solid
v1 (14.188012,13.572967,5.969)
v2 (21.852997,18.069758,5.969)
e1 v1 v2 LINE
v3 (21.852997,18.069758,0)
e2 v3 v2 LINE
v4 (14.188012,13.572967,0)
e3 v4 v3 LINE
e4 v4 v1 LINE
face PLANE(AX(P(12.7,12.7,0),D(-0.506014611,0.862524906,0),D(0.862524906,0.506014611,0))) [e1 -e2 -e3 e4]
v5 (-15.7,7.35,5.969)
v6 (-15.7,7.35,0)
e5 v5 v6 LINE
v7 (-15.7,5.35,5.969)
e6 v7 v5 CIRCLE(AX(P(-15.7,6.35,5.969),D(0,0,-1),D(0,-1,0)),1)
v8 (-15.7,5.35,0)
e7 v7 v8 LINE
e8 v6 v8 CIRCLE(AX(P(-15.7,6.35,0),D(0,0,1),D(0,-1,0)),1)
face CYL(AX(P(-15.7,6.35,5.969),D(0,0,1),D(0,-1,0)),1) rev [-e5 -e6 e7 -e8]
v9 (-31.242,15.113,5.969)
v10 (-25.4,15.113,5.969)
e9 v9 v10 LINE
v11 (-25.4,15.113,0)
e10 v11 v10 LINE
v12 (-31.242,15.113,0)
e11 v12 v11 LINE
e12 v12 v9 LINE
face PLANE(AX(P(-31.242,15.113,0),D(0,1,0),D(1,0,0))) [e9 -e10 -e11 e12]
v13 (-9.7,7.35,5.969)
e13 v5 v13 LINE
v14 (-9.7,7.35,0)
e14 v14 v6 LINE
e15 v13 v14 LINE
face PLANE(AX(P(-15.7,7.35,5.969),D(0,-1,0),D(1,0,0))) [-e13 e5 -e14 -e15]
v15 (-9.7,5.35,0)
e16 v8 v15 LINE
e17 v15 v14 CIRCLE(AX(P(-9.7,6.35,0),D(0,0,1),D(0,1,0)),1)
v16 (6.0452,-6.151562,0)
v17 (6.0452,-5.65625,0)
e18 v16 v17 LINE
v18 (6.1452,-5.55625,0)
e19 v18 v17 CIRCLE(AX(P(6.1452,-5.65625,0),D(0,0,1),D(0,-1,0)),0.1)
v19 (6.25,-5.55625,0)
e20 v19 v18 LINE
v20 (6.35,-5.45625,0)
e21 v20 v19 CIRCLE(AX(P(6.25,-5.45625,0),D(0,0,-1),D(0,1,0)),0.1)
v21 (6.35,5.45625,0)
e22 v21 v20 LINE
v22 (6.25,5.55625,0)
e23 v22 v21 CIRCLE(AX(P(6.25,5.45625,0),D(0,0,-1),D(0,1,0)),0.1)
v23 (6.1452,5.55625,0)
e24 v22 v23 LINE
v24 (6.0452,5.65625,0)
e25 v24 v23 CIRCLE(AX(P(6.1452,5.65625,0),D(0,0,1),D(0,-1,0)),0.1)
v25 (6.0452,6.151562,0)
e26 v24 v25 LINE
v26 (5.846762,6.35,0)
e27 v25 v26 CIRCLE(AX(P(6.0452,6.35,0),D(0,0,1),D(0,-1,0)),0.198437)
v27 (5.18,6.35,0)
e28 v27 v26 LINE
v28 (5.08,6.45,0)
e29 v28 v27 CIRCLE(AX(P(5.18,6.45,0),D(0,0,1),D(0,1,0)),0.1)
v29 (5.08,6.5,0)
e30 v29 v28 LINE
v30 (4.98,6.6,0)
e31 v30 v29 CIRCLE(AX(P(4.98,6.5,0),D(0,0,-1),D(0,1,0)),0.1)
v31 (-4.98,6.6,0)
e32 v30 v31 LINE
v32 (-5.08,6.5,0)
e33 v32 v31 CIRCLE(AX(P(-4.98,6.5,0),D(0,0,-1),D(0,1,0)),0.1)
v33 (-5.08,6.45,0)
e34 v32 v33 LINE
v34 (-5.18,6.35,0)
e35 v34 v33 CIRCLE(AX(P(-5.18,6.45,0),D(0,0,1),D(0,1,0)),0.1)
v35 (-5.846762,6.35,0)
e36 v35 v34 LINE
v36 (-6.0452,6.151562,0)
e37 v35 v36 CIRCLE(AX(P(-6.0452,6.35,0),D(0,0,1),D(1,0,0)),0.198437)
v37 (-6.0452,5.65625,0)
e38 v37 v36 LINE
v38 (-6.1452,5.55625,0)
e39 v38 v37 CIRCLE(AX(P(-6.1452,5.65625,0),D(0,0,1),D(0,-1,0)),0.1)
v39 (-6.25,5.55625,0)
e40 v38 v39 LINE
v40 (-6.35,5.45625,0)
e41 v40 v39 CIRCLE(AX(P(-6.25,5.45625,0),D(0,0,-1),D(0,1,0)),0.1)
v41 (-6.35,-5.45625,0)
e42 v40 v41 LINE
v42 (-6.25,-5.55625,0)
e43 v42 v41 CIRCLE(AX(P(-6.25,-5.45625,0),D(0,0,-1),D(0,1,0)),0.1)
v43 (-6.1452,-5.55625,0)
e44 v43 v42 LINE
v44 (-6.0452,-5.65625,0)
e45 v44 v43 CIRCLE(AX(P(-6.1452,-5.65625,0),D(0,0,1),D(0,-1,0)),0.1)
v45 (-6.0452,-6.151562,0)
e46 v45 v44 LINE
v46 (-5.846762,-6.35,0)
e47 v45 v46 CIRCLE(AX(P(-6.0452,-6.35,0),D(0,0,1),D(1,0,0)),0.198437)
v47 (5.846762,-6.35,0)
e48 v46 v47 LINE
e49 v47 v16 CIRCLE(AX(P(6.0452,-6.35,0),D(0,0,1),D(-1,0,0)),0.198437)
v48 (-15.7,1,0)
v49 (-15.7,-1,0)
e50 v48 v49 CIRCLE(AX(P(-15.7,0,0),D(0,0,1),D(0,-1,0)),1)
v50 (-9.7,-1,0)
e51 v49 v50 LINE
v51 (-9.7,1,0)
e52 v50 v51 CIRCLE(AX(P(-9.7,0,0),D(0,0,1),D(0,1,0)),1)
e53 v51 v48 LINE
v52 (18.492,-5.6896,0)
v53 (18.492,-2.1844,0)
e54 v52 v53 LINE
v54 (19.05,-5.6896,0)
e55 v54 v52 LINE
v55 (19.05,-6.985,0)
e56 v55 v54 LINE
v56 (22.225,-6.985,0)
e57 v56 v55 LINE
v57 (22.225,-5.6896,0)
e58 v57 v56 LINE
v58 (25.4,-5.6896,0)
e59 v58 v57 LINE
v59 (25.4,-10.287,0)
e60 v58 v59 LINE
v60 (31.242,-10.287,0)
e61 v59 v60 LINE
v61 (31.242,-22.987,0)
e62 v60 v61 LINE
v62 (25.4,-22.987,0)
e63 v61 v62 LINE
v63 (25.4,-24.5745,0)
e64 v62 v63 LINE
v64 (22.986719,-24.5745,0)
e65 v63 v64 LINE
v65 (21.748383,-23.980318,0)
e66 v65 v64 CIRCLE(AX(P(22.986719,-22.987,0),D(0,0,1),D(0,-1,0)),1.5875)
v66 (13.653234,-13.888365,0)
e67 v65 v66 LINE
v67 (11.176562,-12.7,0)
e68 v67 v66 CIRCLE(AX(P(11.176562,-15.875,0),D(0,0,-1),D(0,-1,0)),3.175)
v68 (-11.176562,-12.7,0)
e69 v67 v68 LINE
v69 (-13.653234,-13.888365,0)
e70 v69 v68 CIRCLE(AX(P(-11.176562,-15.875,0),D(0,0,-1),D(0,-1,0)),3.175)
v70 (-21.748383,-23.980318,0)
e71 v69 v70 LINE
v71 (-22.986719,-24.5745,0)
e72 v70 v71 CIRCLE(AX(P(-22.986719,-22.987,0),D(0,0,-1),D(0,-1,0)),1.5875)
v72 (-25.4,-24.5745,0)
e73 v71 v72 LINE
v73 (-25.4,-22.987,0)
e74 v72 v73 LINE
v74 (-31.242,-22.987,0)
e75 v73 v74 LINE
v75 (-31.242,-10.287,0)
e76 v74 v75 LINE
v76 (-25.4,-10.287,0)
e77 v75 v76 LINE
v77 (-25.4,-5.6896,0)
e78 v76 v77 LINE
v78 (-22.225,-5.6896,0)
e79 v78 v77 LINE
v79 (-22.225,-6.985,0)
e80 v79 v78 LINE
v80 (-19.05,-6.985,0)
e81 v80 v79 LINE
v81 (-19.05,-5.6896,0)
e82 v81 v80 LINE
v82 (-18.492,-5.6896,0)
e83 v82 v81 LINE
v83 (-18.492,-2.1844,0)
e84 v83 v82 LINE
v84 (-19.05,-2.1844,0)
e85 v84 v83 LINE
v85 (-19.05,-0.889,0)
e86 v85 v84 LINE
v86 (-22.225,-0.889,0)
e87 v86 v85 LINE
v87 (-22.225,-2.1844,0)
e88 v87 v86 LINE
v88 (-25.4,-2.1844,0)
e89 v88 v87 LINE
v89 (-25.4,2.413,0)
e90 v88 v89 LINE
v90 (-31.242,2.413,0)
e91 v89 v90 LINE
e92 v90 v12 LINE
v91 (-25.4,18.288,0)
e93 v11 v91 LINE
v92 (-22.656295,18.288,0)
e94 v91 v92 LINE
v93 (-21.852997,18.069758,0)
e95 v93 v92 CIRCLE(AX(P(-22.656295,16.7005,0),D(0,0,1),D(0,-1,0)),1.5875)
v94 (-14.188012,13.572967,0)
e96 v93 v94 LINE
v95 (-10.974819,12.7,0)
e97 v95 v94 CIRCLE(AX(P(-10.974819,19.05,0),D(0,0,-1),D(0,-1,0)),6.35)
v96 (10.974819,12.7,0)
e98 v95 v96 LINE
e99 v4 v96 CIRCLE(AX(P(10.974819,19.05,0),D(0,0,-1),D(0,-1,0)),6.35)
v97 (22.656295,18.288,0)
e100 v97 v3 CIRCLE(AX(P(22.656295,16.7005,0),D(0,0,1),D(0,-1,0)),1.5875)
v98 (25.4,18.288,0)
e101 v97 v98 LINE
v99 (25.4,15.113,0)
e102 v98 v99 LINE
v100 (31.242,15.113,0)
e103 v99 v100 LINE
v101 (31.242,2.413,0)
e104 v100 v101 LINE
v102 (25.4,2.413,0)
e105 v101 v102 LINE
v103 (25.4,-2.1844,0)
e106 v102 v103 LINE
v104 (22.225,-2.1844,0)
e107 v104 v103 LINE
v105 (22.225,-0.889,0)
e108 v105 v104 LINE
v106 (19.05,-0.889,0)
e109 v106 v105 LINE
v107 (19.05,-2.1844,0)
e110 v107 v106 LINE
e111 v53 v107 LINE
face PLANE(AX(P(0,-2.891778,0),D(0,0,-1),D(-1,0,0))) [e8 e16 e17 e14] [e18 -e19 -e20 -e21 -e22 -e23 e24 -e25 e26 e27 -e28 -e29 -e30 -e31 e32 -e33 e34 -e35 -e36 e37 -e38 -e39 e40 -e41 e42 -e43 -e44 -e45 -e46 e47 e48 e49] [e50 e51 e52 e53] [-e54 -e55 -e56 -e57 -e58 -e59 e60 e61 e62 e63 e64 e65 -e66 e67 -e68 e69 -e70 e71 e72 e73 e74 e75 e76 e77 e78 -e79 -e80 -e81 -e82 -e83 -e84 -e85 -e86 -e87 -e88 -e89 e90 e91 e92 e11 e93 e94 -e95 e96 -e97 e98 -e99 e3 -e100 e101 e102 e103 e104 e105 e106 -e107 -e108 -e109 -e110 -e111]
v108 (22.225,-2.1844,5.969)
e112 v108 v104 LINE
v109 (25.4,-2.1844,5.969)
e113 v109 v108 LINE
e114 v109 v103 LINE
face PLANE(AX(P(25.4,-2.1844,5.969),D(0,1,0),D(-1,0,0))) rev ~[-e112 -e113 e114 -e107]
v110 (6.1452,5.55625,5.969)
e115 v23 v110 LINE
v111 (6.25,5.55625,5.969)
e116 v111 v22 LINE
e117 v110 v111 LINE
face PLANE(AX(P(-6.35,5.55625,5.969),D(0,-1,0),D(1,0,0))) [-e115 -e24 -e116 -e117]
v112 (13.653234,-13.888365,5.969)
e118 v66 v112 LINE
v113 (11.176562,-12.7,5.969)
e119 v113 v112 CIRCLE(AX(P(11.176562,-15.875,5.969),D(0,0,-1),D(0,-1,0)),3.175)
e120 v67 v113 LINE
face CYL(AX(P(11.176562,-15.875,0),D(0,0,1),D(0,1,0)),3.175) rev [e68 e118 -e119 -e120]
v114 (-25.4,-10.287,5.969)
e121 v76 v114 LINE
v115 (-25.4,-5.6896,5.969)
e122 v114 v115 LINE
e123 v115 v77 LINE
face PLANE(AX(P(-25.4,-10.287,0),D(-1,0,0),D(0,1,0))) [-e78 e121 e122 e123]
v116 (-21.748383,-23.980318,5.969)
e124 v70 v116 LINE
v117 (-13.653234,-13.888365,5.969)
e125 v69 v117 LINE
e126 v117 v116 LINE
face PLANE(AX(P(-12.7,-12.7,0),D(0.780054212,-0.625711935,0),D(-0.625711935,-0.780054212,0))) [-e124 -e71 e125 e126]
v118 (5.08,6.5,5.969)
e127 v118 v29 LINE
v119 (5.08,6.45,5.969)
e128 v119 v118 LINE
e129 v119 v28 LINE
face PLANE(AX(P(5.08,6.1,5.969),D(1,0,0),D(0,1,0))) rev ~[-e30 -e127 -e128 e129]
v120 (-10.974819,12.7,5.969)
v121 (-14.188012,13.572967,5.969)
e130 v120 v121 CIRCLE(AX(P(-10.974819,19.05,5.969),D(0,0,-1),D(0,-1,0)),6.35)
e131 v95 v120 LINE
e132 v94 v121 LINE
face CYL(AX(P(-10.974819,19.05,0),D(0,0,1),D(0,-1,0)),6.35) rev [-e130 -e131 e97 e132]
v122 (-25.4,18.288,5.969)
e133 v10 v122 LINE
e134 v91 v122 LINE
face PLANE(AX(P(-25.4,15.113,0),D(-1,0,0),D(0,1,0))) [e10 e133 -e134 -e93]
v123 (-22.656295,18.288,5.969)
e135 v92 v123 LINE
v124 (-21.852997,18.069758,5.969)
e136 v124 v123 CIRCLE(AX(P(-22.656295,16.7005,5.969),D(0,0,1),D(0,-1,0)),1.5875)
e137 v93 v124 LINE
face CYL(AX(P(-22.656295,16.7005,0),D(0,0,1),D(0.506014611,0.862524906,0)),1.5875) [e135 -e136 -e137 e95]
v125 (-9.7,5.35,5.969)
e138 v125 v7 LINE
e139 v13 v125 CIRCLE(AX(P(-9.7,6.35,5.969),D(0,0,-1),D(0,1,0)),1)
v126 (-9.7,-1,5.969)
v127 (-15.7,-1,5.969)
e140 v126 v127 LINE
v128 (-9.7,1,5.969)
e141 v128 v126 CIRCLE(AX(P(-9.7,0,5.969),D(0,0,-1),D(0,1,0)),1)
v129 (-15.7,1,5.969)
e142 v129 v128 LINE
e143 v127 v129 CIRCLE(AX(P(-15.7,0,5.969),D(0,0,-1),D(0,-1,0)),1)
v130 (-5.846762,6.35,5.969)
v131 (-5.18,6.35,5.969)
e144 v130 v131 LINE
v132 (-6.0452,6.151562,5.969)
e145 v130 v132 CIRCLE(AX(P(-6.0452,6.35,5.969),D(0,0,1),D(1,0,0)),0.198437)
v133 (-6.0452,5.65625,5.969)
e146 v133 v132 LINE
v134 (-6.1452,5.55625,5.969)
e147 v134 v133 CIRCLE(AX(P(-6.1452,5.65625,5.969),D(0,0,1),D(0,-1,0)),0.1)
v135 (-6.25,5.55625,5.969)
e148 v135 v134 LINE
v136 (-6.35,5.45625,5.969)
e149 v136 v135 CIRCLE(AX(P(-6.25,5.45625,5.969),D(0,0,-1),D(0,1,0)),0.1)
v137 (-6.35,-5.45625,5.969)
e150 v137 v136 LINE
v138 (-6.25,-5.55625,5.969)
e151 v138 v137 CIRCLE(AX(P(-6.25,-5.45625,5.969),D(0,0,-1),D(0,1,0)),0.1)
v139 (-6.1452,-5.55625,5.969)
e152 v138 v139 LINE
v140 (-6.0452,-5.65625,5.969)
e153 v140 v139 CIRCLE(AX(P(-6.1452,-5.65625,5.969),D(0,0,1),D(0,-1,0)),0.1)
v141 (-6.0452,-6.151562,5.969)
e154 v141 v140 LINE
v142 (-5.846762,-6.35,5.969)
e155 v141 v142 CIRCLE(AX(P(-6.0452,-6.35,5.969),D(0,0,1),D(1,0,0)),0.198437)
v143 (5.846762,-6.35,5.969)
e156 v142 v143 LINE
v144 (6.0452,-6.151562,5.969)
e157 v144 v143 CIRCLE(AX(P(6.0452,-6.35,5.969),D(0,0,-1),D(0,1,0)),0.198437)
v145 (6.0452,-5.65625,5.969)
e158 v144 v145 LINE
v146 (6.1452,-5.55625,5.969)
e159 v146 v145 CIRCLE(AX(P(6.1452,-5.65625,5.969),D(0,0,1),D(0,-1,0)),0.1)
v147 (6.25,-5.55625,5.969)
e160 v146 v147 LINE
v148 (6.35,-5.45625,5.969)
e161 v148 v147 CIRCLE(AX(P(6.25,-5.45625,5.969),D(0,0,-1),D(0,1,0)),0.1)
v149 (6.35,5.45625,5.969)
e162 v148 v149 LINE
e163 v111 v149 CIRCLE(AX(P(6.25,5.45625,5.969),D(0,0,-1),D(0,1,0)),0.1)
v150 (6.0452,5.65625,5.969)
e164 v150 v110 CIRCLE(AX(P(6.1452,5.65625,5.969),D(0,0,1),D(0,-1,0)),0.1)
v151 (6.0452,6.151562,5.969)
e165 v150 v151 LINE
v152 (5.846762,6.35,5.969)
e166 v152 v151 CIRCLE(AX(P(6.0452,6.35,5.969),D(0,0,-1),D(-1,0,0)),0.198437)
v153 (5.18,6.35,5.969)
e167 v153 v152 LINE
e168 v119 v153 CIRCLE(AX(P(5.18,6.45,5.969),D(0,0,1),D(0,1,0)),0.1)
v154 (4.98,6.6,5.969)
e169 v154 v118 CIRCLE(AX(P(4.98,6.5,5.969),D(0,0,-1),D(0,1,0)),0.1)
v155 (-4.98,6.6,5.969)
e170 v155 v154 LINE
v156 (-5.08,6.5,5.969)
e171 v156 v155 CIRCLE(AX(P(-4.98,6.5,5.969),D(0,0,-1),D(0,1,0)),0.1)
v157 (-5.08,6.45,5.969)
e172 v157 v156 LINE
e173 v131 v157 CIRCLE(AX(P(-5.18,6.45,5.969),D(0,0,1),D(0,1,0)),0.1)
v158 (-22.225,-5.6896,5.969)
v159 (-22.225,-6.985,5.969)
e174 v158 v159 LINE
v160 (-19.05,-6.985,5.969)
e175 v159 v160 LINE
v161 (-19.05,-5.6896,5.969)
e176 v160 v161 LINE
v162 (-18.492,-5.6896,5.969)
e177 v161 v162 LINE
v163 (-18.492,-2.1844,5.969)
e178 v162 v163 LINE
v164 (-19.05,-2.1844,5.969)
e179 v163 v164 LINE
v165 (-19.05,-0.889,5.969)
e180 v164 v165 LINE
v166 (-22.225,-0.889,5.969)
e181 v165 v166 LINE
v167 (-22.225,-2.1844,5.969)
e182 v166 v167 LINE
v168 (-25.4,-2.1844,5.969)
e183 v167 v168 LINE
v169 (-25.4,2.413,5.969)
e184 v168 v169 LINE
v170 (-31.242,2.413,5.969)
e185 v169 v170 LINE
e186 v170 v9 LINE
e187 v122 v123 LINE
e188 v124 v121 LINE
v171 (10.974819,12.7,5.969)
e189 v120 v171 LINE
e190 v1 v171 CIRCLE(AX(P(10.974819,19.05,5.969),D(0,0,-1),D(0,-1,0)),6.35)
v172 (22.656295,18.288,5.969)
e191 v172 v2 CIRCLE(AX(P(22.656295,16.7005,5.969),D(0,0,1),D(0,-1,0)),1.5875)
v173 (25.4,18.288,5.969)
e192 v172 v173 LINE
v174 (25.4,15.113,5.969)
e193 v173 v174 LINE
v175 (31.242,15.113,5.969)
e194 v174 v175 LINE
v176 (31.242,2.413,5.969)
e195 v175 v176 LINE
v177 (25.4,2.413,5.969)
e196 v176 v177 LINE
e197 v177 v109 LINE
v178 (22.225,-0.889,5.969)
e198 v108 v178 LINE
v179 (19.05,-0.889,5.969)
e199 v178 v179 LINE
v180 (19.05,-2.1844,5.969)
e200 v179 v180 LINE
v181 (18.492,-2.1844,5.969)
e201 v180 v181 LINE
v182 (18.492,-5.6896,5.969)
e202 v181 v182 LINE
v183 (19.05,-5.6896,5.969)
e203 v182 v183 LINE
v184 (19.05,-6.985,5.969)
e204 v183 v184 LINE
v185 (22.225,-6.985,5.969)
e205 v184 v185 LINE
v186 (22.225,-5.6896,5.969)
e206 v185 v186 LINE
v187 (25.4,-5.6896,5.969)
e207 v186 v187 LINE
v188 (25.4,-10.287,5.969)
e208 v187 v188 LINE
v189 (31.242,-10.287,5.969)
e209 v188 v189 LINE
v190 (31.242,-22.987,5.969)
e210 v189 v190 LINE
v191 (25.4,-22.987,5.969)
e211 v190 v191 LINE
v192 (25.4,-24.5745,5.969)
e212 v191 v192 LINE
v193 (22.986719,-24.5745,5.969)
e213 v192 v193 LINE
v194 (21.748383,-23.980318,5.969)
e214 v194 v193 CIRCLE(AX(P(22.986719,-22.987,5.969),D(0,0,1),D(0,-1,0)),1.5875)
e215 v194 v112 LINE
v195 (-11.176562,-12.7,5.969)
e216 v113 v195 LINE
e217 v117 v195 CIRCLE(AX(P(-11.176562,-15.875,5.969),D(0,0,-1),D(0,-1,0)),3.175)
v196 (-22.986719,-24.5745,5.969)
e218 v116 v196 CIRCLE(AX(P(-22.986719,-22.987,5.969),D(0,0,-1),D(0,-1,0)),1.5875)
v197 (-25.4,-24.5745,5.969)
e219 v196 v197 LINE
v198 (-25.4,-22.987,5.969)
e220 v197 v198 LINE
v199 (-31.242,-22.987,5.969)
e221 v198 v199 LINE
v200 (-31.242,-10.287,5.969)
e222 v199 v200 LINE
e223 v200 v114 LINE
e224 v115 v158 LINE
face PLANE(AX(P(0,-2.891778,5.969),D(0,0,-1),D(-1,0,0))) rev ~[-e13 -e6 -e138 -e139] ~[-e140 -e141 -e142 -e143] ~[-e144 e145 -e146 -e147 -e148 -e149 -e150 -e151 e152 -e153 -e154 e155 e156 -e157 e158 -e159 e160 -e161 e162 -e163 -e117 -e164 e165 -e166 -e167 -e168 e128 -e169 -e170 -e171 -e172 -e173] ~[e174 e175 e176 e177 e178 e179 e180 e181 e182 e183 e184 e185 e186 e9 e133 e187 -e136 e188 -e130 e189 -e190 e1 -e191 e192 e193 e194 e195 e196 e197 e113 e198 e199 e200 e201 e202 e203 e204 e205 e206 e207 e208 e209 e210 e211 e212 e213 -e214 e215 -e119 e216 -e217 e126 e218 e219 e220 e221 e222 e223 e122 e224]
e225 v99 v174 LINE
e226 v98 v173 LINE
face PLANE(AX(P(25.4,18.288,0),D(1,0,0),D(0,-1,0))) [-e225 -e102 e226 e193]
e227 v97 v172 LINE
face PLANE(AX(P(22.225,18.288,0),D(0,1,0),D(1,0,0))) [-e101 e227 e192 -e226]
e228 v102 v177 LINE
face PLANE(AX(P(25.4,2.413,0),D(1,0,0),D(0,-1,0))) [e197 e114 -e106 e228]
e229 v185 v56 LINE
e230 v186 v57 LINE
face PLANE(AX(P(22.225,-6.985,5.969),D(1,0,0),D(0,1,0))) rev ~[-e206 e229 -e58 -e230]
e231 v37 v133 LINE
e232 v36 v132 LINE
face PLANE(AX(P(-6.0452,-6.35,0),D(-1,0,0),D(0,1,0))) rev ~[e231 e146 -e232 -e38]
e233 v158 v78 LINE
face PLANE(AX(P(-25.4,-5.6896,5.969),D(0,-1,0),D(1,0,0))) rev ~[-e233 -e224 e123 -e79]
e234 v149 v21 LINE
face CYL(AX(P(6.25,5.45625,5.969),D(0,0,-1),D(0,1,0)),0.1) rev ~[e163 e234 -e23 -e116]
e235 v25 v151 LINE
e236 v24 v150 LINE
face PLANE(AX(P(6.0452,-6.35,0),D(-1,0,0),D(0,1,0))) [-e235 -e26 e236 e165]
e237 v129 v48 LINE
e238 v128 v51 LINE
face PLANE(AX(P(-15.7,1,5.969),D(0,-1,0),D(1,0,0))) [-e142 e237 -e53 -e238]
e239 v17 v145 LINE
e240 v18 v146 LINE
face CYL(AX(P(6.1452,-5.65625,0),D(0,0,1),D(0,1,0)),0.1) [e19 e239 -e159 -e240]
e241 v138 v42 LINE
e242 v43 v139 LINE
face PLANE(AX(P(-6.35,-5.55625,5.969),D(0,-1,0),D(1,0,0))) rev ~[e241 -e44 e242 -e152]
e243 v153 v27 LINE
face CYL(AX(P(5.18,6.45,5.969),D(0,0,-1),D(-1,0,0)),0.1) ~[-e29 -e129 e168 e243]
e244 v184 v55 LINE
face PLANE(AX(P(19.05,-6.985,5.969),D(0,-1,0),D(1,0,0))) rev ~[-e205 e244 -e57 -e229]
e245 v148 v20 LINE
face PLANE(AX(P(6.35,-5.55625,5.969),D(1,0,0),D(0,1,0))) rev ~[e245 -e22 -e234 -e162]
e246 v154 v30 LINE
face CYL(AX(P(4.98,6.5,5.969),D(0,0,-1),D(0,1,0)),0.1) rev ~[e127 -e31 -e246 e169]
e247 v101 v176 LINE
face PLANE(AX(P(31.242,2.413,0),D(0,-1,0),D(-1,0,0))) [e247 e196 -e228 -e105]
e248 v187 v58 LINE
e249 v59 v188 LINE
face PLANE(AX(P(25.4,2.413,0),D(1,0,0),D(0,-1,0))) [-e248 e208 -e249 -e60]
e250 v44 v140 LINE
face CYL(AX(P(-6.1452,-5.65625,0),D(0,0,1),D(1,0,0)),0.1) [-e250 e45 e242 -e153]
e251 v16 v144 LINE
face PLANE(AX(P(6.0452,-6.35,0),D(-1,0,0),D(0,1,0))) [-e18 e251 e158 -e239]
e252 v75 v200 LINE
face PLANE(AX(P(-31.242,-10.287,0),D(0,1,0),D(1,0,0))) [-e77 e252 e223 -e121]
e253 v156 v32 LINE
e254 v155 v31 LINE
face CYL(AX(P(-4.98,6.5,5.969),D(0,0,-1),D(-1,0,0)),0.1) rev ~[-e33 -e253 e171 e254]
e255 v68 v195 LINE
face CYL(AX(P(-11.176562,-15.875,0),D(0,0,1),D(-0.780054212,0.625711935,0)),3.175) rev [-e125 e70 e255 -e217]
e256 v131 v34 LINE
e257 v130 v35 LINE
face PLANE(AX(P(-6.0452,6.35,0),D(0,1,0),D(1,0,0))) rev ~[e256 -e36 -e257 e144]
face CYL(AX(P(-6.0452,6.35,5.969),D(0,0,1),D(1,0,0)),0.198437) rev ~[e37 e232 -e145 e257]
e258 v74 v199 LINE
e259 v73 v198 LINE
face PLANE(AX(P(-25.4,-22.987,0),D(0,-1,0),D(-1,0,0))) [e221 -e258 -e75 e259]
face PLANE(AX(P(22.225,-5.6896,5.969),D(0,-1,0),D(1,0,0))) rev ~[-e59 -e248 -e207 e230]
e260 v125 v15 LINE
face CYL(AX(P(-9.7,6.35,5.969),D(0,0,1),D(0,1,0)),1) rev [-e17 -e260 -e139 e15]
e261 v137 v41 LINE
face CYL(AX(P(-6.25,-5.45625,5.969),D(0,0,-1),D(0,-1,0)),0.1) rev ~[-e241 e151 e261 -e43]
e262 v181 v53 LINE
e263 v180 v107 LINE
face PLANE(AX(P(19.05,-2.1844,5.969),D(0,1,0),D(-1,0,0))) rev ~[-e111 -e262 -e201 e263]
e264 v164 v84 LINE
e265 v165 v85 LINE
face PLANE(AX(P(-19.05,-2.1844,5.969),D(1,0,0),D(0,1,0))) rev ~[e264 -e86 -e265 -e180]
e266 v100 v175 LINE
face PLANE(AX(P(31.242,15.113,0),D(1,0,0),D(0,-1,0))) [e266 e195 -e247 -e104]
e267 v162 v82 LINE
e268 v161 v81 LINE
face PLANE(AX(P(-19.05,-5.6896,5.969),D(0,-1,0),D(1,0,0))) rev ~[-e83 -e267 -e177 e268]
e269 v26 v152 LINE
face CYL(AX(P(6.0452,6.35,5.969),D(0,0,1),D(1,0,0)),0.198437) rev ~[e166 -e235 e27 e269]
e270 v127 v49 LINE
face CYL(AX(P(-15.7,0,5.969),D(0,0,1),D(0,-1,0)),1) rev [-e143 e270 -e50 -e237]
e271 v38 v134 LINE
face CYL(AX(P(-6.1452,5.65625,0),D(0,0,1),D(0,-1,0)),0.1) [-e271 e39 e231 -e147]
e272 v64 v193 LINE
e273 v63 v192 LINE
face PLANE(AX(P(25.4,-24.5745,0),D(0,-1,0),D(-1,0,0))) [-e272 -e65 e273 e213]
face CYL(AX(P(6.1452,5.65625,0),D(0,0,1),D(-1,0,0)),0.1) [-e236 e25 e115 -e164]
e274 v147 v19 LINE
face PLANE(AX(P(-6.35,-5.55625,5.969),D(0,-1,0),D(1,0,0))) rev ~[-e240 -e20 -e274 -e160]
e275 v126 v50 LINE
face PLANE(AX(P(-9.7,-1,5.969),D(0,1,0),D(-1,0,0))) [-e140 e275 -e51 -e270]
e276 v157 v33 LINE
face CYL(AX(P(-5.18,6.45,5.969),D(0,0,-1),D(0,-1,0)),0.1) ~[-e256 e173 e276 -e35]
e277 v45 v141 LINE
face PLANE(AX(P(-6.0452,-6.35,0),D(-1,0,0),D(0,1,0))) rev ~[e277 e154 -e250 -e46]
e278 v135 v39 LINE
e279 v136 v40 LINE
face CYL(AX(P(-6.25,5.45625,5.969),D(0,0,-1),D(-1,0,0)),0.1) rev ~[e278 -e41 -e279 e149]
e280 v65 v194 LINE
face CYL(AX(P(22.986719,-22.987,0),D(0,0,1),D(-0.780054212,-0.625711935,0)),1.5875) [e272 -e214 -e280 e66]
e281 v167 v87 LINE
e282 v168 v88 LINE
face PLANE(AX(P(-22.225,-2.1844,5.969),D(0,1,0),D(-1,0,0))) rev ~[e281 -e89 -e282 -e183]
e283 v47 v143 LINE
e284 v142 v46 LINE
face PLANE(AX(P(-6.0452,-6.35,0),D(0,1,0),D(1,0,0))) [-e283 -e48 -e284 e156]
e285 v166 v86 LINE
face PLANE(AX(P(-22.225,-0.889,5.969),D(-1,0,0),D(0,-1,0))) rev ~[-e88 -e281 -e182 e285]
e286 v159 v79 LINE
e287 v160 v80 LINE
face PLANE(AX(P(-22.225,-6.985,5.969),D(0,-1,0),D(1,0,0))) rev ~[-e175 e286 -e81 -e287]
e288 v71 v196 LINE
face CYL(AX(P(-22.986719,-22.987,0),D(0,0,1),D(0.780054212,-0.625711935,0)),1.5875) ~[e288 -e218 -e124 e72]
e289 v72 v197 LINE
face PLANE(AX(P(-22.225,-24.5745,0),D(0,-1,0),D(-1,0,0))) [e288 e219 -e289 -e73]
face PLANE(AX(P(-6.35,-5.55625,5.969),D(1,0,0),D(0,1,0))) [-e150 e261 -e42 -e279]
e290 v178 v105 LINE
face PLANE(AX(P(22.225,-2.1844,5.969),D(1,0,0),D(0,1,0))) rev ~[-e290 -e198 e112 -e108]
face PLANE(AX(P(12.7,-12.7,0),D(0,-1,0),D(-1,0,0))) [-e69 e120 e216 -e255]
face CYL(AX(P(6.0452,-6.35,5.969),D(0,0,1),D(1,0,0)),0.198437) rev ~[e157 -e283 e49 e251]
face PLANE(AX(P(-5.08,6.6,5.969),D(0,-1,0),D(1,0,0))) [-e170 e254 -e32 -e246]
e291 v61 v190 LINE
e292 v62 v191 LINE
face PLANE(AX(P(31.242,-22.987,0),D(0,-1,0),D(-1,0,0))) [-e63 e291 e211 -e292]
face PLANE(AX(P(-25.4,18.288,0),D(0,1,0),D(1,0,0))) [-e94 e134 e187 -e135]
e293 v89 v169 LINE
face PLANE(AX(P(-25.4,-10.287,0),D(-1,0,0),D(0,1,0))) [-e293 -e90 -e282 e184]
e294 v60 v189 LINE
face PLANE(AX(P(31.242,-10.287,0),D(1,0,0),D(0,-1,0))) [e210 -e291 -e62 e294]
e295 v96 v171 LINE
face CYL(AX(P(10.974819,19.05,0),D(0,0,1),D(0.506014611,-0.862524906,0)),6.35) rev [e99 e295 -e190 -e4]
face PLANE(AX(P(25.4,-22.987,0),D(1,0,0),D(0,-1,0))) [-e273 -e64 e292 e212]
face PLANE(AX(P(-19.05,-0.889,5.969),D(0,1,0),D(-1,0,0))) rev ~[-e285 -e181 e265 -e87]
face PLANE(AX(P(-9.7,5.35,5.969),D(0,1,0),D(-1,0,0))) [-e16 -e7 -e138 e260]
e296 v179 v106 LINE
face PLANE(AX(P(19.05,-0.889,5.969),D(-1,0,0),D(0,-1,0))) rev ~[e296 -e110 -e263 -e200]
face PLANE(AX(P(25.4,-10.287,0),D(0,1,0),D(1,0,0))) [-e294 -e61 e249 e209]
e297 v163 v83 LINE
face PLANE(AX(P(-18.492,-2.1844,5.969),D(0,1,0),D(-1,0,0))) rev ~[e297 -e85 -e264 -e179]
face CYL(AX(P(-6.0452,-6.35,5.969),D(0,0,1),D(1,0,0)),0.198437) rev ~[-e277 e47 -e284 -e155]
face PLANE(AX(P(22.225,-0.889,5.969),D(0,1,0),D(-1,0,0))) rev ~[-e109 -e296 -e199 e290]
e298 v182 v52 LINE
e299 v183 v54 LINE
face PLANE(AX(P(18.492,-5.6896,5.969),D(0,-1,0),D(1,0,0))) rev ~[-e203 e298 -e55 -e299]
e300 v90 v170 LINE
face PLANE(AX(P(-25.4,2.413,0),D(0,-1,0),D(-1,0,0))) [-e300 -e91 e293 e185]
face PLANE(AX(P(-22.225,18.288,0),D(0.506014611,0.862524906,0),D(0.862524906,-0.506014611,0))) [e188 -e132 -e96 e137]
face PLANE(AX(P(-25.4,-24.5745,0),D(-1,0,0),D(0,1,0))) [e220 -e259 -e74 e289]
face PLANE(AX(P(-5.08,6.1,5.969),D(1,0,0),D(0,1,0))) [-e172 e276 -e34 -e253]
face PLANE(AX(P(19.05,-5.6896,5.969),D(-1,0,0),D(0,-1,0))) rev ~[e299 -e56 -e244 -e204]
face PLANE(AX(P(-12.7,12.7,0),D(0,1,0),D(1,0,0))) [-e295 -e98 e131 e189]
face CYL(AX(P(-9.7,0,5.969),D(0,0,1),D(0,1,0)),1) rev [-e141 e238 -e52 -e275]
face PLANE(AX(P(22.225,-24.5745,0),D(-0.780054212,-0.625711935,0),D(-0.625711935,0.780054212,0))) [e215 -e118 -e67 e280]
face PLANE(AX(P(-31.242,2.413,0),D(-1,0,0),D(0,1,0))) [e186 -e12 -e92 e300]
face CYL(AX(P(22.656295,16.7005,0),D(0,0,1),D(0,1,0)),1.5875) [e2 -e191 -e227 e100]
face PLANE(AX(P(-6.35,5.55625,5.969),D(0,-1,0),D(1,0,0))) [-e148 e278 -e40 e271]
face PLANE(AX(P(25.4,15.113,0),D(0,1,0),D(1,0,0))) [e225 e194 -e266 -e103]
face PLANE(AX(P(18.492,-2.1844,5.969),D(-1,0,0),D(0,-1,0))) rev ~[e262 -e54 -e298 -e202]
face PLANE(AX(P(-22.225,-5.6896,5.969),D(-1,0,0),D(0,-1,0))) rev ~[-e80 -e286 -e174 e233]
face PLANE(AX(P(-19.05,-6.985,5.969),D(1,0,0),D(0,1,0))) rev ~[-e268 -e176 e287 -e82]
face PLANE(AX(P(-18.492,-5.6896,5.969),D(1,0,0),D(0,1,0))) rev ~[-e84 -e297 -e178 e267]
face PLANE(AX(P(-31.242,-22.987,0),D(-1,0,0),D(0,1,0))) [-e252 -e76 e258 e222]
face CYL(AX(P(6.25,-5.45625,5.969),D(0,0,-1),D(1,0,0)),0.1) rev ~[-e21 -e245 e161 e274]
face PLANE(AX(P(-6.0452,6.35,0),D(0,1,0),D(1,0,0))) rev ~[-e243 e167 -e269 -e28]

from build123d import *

# Parameters (mm, degrees)
SKETCH1_W           = 12.0904
SKETCH1_H           = 12.7
BOSS_EXTRUDE1_DEPTH = 5.969
CUT_EXTRUDE1_DEPTH  = 41.194496828
SKETCH3_R           = 0.1984375
CUT_EXTRUDE2_DEPTH  = 41.194496828
FILLET1_R           = 3.175
FILLET2_R           = 1.5875
SKETCH4_W           = 12.7
SKETCH4_H           = 11.1125
CUT_EXTRUDE3_DEPTH  = 41.194496828
FILLET7_R           = 0.1
SKETCH5_W           = 10.16
SKETCH5_H           = 0.5
CUT_EXTRUDE4_DEPTH  = 41.194496828
FILLET8_R           = 0.1
CUT_EXTRUDE5_DEPTH  = 41.194496828
FILLET9_R           = 6.35


with BuildPart() as part:
    # Sketch1 → Boss-Extrude1 (new body)
    with BuildSketch(Plane.XY):
        Polygon((25.4, 2.413), (25.4, -10.287), (31.242, -10.287), (31.242, -22.987), (25.4, -22.987), (25.4, -24.5745), (22.225, -24.5745), (12.7, -12.7), (-12.7, -12.7), (-22.225, -24.5745), (-25.4, -24.5745), (-25.4, -22.987), (-31.242, -22.987), (-31.242, -10.287), (-25.4, -10.287), (-25.4, 2.413), (-31.242, 2.413), (-31.242, 15.113), (-25.4, 15.113), (-25.4, 18.288), (-22.225, 18.288), (-12.7, 12.7), (12.7, 12.7), (22.225, 18.288), (25.4, 18.288), (25.4, 15.113), (31.242, 15.113), (31.242, 2.413), align=None)
        Rectangle(SKETCH1_W, SKETCH1_H, mode=Mode.SUBTRACT)
    extrude(amount=BOSS_EXTRUDE1_DEPTH)

    # Sketch2 → Cut-Extrude1 (cut, through all)
    with BuildSketch(Plane.XY.offset(5.969)):
        Polygon((22.225, -2.1844), (22.225, -0.889), (19.05, -0.889), (19.05, -2.1844), (18.492, -2.1844), (18.492, -5.6896), (19.05, -5.6896), (19.05, -6.985), (22.225, -6.985), (22.225, -5.6896), (25.4, -5.6896), (25.4, -2.1844), align=None)
        Polygon((-19.05, -2.1844), (-19.05, -0.889), (-22.225, -0.889), (-22.225, -2.1844), (-25.4, -2.1844), (-25.4, -5.6896), (-22.225, -5.6896), (-22.225, -6.985), (-19.05, -6.985), (-19.05, -5.6896), (-18.492, -5.6896), (-18.492, -2.1844), align=None)
    extrude(amount=-CUT_EXTRUDE1_DEPTH, mode=Mode.SUBTRACT)

    # Sketch3 → Cut-Extrude2 (cut, through all)
    with BuildSketch(Plane.XY.offset(5.969)):
        with Locations((6.0452, 6.35)):
            Circle(SKETCH3_R)
        with Locations((-6.0452, 6.35)):
            Circle(SKETCH3_R)
        with Locations((-6.0452, -6.35)):
            Circle(SKETCH3_R)
        with Locations((6.0452, -6.35)):
            Circle(SKETCH3_R)
    extrude(amount=-CUT_EXTRUDE2_DEPTH, mode=Mode.SUBTRACT)

    # Fillet1
    fillet1_edges = [part.edges().sort_by_distance(p)[0] for p in [
        (12.7, -12.7, 2.9845),
        (-12.7, -12.7, 2.9845),
    ]]
    fillet(fillet1_edges, radius=FILLET1_R)

    # Fillet2
    fillet2_edges = [part.edges().sort_by_distance(p)[0] for p in [
        (22.225, -24.5745, 2.9845),
        (-22.225, -24.5745, 2.9845),
        (-22.225, 18.288, 2.9845),
        (22.225, 18.288, 2.9845),
    ]]
    fillet(fillet2_edges, radius=FILLET2_R)

    # Sketch4 → Cut-Extrude3 (cut, through all)
    with BuildSketch(Plane.XY.offset(5.969)):
        Rectangle(SKETCH4_W, SKETCH4_H)
    extrude(amount=-CUT_EXTRUDE3_DEPTH, mode=Mode.SUBTRACT)

    # Fillet7
    fillet7_edges = [part.edges().sort_by_distance(p)[0] for p in [
        (6.0452, -5.55625, 2.9845),
        (6.0452, 5.55625, 2.9845),
        (-6.0452, 5.55625, 2.9845),
        (-6.35, 5.55625, 2.9845),
        (-6.0452, -5.55625, 2.9845),
        (-6.35, -5.55625, 2.9845),
        (6.35, 5.55625, 2.9845),
        (6.35, -5.55625, 2.9845),
    ]]
    fillet(fillet7_edges, radius=FILLET7_R)

    # Sketch5 → Cut-Extrude4 (cut, through all)
    with BuildSketch(Plane.XY.offset(5.969)):
        with Locations((0, 6.35)):
            Rectangle(SKETCH5_W, SKETCH5_H)
    extrude(amount=-CUT_EXTRUDE4_DEPTH, mode=Mode.SUBTRACT)

    # Fillet8
    fillet8_edges = [part.edges().sort_by_distance(p)[0] for p in [
        (5.08, 6.35, 2.9845),
        (-5.08, 6.35, 2.9845),
        (-5.08, 6.6, 2.9845),
        (5.08, 6.6, 2.9845),
    ]]
    fillet(fillet8_edges, radius=FILLET8_R)

    # Sketch6 → Cut-Extrude5 (cut, through all)
    with BuildSketch(Plane.XY.offset(5.969)):
        with BuildLine():
            Line((-15.7, 7.35), (-9.7, 7.35))
            ThreePointArc((-9.7, 7.35), (-8.7, 6.35), (-9.7, 5.35))
            Line((-9.7, 5.35), (-15.7, 5.35))
            ThreePointArc((-15.7, 5.35), (-16.7, 6.35), (-15.7, 7.35))
        make_face()
        with BuildLine():
            Line((-15.7, 1), (-9.7, 1))
            ThreePointArc((-9.7, 1), (-8.7, 0), (-9.7, -1))
            Line((-9.7, -1), (-15.7, -1))
            ThreePointArc((-15.7, -1), (-16.7, 0), (-15.7, 1))
        make_face()
    extrude(amount=-CUT_EXTRUDE5_DEPTH, mode=Mode.SUBTRACT)

    # Fillet9
    fillet9_edges = [part.edges().sort_by_distance(p)[0] for p in [
        (-12.7, 12.7, 2.9845),
        (12.7, 12.7, 2.9845),
    ]]
    fillet(fillet9_edges, radius=FILLET9_R)


solid = part.part
